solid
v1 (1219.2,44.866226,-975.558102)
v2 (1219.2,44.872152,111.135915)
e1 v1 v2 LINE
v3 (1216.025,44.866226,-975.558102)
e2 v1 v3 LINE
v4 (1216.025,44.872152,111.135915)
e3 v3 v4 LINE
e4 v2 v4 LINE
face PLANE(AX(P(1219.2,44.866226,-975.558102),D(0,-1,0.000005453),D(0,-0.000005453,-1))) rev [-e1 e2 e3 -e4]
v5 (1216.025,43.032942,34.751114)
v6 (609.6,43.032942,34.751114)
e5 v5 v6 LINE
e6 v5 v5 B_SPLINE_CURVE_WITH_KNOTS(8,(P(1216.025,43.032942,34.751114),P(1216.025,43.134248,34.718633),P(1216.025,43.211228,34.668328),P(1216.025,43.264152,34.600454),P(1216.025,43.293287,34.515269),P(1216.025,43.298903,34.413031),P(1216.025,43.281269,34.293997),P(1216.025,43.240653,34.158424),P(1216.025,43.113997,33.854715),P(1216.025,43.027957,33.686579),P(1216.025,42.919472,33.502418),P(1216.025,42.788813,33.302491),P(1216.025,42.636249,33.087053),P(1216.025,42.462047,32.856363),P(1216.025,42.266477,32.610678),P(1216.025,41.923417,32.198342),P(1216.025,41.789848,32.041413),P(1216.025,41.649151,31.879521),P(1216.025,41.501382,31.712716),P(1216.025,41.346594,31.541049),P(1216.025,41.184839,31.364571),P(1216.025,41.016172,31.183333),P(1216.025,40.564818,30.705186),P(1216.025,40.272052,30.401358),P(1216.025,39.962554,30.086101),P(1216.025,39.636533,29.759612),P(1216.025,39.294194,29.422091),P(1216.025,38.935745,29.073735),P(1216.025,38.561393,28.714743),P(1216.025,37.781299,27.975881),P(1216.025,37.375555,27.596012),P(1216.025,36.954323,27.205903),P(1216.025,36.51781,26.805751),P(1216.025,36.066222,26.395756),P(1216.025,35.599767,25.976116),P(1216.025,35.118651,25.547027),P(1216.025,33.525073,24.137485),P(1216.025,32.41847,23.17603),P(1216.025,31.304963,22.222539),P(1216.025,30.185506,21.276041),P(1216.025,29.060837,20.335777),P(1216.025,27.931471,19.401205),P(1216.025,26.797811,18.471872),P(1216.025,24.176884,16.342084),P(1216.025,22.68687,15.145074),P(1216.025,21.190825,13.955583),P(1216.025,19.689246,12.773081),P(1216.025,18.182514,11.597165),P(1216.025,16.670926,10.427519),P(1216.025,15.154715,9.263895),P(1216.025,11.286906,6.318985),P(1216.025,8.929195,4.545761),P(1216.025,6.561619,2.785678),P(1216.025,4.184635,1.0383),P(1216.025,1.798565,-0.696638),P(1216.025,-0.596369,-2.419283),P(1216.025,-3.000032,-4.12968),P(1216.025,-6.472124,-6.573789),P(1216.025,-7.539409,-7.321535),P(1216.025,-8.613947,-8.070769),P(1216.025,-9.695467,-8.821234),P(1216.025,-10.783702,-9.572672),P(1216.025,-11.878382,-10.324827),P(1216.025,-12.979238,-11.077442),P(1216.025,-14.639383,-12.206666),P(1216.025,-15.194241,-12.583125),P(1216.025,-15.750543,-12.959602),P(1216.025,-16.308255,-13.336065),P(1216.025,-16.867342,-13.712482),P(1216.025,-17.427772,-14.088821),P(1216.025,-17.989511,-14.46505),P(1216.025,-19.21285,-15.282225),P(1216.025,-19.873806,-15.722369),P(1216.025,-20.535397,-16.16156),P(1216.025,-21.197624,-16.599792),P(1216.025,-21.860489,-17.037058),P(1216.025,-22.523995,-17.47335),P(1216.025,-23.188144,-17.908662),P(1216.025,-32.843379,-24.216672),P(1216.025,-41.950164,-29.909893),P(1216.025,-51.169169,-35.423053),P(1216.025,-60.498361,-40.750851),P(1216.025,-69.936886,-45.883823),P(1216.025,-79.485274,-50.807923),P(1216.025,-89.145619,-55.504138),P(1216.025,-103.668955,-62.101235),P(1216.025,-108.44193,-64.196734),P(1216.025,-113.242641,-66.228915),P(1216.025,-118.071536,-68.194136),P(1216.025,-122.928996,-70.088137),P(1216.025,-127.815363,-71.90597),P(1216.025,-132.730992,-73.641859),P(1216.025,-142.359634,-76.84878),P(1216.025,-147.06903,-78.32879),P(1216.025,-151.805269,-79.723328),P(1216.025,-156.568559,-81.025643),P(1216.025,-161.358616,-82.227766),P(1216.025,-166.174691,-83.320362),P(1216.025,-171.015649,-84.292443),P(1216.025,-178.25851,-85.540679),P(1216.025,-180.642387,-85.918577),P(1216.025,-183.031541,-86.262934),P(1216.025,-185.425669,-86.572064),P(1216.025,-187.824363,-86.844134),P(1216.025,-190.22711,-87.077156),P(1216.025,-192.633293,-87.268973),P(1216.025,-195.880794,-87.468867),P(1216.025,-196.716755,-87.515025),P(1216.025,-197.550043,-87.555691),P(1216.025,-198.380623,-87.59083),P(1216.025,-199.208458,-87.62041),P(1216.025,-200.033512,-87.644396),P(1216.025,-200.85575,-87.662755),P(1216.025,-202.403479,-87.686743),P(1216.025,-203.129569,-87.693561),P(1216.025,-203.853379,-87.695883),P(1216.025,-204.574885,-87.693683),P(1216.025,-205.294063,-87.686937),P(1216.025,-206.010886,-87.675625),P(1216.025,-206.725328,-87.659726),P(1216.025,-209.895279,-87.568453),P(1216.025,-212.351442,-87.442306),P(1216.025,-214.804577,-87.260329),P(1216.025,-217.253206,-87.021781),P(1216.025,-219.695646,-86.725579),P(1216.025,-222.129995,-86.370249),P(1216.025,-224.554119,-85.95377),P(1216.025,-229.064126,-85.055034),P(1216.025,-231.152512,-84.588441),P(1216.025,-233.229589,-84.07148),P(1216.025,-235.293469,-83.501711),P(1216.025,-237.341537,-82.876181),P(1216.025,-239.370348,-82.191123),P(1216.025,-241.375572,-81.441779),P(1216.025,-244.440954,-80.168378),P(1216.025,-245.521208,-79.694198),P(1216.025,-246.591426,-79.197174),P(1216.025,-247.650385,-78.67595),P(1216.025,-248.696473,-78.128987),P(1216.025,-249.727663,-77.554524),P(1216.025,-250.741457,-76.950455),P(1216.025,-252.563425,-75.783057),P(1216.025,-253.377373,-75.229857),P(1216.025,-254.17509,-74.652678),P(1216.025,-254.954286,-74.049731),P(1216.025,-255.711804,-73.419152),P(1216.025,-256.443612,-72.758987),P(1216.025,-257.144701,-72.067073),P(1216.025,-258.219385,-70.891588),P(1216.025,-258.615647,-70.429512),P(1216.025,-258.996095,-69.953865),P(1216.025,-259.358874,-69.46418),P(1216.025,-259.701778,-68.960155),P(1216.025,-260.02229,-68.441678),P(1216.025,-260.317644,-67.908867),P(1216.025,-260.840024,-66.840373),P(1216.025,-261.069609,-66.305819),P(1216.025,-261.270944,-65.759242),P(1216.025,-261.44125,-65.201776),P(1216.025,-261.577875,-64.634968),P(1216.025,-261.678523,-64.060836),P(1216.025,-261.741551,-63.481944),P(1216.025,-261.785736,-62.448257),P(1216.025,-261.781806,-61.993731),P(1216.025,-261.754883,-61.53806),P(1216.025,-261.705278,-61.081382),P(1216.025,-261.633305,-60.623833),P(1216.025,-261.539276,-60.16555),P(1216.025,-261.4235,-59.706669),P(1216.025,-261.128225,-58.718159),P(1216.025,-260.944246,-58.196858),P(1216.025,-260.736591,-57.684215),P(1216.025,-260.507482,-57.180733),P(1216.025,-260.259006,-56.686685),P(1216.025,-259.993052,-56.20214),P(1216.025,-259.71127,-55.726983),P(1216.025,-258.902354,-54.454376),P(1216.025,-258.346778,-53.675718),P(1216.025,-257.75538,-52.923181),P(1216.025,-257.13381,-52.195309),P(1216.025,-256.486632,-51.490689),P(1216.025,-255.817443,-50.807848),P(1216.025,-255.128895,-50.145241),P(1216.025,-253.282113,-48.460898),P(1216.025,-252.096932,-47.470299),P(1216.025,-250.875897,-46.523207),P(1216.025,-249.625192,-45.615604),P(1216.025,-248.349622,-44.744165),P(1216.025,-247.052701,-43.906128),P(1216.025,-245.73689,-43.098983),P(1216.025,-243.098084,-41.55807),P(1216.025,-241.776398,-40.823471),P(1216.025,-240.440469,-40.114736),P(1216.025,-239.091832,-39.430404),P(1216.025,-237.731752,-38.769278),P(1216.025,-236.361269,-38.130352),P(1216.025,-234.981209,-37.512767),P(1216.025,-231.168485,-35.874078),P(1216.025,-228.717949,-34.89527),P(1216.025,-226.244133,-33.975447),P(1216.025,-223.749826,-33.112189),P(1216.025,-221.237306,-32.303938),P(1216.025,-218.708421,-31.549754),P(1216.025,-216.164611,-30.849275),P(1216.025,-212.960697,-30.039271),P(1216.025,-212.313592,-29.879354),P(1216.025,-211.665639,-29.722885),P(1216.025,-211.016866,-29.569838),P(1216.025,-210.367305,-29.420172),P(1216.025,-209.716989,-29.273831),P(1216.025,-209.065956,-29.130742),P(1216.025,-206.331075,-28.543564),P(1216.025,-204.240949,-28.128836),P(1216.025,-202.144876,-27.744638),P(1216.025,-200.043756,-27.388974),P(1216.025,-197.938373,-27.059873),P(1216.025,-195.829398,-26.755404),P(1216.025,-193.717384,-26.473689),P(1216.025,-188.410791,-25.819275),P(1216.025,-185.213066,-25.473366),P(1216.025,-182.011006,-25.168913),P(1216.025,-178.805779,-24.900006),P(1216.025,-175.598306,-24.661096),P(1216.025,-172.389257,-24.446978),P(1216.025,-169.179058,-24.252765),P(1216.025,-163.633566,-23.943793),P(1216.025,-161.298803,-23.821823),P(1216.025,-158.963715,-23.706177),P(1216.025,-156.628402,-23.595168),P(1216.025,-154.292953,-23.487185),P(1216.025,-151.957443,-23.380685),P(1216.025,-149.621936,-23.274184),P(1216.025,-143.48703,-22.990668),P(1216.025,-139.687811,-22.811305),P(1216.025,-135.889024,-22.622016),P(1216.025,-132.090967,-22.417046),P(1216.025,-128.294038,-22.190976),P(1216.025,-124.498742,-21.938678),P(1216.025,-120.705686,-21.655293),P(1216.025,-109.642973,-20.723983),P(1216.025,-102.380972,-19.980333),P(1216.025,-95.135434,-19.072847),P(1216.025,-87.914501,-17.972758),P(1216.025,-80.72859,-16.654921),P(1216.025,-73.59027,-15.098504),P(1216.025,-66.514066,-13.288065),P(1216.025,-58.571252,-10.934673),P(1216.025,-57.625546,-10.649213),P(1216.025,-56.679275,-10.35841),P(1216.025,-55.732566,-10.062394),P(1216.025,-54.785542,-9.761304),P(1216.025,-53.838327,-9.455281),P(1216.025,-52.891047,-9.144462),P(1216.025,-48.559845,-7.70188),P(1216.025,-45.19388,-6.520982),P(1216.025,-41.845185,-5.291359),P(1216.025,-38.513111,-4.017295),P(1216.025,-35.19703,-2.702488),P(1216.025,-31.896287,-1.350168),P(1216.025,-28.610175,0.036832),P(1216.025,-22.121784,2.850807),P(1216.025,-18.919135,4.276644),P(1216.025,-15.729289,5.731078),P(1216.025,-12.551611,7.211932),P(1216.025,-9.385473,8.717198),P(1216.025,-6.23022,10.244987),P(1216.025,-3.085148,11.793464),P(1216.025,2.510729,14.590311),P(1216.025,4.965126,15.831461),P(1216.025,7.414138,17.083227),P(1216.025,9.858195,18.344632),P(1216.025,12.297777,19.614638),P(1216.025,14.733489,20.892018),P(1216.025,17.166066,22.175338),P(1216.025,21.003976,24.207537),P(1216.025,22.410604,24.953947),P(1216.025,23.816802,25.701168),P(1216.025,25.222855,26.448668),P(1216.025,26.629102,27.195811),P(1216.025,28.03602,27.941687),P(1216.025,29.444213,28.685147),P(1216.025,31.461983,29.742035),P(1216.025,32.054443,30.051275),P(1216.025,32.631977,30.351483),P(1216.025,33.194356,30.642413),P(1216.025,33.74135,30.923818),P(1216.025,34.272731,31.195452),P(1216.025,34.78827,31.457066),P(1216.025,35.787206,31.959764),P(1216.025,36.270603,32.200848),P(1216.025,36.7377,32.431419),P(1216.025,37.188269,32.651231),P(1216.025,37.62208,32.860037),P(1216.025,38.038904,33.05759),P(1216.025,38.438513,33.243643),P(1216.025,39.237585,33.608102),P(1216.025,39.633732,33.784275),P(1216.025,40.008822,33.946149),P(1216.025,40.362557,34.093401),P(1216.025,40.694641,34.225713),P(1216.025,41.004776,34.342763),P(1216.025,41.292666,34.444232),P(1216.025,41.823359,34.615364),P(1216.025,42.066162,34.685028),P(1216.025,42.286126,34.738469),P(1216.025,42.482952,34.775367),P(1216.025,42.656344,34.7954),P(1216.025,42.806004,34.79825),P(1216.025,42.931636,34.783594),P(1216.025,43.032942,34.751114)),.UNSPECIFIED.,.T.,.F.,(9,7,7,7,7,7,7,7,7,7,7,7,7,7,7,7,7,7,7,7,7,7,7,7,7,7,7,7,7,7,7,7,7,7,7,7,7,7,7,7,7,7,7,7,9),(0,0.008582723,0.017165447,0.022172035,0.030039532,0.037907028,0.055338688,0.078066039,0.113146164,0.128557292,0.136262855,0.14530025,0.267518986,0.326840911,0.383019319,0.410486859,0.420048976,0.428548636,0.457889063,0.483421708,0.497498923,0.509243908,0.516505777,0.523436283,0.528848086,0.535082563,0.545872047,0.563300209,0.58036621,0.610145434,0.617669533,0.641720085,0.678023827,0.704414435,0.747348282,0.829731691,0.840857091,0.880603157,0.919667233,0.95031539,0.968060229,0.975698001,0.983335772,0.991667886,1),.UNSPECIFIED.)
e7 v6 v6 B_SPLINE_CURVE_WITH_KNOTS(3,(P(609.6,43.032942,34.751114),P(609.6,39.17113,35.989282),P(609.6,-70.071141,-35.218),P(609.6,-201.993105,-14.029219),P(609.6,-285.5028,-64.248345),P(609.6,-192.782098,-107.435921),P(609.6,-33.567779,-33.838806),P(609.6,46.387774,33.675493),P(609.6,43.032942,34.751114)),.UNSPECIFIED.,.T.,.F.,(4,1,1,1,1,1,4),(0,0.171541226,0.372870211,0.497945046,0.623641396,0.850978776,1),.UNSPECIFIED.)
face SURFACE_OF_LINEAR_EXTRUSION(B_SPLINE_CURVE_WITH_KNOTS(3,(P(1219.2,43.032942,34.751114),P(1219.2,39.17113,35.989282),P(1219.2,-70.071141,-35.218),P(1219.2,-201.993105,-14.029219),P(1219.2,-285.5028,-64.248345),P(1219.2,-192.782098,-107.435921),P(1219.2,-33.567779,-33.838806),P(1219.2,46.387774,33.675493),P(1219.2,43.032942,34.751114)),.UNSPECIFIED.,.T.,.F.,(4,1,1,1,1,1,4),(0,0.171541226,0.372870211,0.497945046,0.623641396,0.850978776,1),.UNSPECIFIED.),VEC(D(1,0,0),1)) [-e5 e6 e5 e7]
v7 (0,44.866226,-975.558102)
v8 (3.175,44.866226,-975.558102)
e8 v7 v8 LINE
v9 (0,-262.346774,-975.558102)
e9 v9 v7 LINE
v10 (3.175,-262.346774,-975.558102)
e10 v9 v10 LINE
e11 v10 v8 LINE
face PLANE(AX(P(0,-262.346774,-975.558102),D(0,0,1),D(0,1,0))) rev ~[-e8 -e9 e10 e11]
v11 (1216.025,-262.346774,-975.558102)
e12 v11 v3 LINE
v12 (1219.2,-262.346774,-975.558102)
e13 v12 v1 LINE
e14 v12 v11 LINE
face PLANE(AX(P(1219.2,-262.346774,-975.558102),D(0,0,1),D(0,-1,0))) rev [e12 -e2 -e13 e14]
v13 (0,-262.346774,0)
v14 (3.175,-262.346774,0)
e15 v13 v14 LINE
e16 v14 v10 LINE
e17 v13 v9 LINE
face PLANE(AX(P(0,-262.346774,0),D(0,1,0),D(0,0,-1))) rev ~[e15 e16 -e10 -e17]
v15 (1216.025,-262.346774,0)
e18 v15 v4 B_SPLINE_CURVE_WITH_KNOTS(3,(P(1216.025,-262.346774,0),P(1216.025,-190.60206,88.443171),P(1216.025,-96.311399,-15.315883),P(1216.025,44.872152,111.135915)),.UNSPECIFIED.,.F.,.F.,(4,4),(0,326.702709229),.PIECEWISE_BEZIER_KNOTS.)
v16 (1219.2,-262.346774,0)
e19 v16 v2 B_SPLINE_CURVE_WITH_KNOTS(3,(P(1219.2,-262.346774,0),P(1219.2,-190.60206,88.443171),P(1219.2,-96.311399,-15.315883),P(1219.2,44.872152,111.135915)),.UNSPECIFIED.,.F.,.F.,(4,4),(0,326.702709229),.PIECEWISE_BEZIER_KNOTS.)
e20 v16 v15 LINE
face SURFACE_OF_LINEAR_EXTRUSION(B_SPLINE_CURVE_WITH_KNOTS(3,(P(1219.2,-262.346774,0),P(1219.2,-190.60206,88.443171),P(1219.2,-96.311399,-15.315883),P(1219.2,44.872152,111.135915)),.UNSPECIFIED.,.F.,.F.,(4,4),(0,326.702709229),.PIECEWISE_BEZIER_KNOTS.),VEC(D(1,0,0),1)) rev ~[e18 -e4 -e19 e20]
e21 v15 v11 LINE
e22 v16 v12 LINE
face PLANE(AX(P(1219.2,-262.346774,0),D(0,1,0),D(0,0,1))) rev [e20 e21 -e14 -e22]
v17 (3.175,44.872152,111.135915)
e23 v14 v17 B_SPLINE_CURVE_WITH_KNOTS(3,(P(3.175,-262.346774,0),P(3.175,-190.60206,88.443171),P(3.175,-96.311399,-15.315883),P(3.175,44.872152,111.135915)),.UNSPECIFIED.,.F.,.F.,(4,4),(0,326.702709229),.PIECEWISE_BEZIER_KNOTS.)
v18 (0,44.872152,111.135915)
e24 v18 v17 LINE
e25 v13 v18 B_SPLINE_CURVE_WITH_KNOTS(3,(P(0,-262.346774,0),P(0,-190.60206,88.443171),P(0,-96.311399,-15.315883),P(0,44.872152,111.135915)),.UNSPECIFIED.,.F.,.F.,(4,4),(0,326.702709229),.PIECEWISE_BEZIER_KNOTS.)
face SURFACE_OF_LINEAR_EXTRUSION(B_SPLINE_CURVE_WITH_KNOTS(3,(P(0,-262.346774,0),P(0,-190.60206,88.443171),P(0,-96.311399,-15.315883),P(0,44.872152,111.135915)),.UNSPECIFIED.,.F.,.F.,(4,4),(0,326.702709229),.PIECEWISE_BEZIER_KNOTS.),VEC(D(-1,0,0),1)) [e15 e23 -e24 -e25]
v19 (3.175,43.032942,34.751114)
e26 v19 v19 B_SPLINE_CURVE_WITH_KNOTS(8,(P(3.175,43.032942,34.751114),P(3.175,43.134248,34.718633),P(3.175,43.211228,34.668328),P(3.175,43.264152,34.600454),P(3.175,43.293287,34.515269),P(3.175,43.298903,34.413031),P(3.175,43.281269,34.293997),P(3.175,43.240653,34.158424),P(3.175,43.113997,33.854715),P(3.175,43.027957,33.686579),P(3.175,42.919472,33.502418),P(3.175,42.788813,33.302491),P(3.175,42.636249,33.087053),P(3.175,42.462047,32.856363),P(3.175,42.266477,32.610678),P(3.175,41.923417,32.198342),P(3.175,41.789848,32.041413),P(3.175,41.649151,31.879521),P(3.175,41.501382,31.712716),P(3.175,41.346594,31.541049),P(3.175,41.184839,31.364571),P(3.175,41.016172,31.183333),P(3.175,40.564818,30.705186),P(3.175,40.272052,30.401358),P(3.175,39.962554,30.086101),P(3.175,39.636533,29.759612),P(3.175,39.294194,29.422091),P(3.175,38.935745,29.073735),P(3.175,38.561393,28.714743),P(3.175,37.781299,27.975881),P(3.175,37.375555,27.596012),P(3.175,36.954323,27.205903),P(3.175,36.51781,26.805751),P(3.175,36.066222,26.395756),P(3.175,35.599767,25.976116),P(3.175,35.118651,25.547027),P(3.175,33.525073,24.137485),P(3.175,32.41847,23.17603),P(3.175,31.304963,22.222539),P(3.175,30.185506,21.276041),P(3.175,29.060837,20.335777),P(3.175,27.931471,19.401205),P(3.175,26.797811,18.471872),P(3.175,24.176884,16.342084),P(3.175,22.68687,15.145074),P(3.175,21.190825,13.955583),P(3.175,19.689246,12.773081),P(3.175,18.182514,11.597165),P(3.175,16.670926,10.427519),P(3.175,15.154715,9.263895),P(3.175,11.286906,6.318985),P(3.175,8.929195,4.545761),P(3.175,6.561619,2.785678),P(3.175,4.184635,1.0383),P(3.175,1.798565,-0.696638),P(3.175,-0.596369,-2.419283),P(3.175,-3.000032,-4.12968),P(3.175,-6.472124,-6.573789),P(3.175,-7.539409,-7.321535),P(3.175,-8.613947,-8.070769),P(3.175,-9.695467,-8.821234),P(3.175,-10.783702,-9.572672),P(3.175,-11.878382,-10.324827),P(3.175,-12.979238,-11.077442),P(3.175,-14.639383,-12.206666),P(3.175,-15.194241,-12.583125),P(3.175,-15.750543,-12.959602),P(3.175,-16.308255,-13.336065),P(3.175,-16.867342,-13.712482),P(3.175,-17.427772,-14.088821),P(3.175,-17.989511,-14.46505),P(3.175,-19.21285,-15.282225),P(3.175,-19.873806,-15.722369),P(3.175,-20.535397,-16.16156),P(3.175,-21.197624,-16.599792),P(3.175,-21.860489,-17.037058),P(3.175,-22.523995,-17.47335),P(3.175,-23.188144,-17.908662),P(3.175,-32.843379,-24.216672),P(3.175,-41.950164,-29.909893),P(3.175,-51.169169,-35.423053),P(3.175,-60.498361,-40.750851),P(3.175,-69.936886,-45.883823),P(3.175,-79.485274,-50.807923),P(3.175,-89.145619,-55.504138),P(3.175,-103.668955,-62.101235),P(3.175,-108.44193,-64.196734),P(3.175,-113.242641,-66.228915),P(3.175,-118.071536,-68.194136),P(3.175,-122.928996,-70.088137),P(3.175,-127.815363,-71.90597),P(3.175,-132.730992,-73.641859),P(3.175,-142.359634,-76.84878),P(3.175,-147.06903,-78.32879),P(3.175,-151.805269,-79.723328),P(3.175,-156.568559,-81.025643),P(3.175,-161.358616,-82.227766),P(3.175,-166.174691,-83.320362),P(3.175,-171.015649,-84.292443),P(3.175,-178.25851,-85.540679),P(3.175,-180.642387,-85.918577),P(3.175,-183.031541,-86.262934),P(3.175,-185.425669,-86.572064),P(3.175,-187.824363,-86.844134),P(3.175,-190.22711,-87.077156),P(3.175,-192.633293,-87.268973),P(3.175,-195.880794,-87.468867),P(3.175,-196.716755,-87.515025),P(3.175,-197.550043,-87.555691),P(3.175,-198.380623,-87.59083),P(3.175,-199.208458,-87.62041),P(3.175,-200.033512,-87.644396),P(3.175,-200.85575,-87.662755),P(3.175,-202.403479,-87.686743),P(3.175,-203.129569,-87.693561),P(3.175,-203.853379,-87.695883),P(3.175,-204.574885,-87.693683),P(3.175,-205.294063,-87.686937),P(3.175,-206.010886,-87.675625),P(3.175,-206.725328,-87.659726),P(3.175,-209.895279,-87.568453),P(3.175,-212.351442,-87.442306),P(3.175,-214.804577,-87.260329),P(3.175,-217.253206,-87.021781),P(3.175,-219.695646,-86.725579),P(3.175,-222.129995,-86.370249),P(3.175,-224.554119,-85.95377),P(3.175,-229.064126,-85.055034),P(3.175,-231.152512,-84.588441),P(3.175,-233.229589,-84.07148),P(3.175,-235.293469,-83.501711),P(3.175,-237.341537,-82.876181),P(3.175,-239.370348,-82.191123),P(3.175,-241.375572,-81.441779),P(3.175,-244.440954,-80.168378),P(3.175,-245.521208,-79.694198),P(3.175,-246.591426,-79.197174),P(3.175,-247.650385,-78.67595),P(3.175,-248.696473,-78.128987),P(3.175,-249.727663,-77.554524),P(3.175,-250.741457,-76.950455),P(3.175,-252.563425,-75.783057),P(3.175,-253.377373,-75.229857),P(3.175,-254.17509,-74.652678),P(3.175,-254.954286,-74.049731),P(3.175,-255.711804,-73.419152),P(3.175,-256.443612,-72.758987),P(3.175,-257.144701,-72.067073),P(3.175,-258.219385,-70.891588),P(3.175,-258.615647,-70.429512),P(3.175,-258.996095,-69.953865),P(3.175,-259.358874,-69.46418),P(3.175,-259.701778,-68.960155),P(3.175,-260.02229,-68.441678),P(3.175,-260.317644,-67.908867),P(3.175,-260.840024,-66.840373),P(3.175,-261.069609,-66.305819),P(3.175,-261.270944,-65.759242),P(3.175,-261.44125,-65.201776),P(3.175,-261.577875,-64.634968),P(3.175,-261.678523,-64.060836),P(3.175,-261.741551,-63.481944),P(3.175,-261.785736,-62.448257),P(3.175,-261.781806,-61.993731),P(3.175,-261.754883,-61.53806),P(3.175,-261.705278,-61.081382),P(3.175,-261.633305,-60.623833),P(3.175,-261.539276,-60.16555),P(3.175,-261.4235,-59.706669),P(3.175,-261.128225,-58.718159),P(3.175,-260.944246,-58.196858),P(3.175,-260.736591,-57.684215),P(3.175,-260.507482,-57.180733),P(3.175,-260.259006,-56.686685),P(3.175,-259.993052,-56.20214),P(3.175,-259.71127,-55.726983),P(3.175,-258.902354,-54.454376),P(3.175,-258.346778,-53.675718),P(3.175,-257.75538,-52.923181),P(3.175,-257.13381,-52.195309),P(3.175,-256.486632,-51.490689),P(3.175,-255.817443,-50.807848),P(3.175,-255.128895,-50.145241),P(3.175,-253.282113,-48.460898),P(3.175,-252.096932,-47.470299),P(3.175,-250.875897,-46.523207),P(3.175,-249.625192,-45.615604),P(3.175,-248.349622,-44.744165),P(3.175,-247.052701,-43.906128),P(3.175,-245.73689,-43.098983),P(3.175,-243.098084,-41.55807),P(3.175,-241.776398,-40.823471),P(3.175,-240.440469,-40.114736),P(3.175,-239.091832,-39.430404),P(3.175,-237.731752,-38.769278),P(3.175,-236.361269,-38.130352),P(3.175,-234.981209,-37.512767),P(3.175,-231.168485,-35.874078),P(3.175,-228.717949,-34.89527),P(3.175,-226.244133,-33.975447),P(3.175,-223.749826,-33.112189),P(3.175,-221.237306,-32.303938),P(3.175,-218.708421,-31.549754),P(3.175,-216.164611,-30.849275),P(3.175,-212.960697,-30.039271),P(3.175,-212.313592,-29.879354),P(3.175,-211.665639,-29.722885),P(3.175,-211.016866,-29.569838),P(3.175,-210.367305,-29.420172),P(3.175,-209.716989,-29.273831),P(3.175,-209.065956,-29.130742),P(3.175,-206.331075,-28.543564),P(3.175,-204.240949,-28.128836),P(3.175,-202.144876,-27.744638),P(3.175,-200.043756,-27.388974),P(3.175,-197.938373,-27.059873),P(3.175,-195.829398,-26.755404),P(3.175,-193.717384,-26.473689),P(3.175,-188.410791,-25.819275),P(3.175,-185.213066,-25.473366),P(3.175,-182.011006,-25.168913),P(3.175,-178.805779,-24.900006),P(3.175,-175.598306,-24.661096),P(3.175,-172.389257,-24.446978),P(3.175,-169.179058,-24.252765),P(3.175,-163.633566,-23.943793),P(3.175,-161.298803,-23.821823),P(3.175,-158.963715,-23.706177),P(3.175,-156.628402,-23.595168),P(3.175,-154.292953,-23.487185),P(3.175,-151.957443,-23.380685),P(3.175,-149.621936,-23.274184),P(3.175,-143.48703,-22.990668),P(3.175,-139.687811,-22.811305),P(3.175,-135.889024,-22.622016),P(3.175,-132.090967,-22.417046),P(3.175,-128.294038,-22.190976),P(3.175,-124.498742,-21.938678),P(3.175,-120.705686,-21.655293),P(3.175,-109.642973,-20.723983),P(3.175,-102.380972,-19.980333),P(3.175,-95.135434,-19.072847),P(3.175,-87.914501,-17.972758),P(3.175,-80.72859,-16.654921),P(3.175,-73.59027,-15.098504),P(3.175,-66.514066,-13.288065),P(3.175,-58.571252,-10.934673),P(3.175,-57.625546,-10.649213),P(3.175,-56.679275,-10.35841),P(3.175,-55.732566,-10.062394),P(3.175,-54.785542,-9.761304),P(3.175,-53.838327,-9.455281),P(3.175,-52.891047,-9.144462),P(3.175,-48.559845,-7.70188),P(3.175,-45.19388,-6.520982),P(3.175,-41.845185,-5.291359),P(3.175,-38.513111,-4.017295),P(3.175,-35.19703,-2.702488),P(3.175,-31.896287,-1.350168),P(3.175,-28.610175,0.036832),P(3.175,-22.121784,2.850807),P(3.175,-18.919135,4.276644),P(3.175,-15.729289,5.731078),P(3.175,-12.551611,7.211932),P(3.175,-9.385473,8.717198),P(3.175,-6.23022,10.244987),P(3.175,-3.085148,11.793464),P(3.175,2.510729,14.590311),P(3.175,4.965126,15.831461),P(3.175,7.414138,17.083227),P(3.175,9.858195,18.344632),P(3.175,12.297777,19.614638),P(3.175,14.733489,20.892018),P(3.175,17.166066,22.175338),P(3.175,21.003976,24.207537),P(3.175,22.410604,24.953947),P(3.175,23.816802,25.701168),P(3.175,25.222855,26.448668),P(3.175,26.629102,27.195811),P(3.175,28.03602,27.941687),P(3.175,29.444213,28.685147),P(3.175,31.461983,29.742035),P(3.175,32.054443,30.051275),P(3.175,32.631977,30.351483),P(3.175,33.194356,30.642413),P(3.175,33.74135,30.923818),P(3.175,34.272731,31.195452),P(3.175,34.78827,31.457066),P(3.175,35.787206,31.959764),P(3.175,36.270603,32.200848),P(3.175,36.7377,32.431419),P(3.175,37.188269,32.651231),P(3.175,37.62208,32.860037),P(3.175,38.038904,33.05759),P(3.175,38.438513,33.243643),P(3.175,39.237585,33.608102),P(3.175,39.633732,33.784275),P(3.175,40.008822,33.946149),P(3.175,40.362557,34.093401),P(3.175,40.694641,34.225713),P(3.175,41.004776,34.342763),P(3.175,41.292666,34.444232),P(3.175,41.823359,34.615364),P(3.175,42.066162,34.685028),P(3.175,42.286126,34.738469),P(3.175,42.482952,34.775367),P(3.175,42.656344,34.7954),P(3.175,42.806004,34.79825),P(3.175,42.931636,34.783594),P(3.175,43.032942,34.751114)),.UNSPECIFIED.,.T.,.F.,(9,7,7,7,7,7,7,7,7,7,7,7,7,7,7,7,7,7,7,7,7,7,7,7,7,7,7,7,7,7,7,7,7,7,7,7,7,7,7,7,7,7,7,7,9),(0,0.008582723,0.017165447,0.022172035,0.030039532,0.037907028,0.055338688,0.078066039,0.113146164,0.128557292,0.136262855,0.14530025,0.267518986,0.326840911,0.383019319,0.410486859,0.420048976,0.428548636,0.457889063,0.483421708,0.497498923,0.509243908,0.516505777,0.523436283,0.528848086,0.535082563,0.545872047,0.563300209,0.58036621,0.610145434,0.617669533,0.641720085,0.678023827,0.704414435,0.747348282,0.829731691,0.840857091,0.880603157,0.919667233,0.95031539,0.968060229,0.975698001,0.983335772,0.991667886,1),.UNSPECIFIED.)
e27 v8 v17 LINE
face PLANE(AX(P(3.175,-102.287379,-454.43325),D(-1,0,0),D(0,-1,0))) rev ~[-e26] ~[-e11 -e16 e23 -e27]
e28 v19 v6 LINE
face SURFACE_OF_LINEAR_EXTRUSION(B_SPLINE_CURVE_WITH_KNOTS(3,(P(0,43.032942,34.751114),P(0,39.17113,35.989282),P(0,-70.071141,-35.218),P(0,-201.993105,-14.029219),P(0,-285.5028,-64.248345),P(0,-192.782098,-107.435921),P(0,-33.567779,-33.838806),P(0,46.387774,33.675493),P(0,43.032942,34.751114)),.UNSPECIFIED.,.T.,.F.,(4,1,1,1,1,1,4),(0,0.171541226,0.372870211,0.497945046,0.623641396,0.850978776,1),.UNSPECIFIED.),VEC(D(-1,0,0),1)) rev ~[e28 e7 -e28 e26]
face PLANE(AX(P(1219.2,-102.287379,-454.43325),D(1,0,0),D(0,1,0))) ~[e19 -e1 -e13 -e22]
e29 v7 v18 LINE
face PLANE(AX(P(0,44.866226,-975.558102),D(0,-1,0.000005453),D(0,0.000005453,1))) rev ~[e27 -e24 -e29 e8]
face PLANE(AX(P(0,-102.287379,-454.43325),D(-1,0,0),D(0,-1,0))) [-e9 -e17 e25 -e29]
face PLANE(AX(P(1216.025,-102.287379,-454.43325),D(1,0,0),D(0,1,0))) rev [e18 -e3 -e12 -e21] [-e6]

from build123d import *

# Parameters (mm, degrees)
F2_DEPTH = 609.6
F3_DEPTH = 3.175


with BuildPart() as f2:
    # F0 (on Right) → F2 (new body)
    with BuildSketch(Plane.YZ):
        with BuildLine():
            add(Edge.make_bspline(
                [(43.0329421979, 34.7511139105), (39.171130367, 35.9892817227), (-70.0711411927, -35.218000263), (-201.9931052329, -14.029218889), (-285.5028000267, -64.2483450261), (-192.7820983455, -107.4359210852), (-33.5677788683, -33.8388056306), (46.3877738048, 33.675493271), (43.0329421979, 34.7511139105)],
                knots=[0, 0, 0, 0, 0.1715412261, 0.372870211, 0.4979450462, 0.6236413962, 0.8509787757, 1, 1, 1, 1], degree=3))
        make_face()
    extrude(amount=F2_DEPTH)

    # F1 (on Right) → F3 (join)
    with BuildSketch(Plane.YZ):
        with BuildLine():
            add(Edge.make_bspline(
                [(-262.3467743397, 0), (-190.6020598596, 88.4431707577), (-96.3113990174, -15.3158832345), (44.872151887, 111.1359149218)],
                knots=[0, 0, 0, 0, 326.7027092287, 326.7027092287, 326.7027092287, 326.7027092287], degree=3))
            Line((-262.3467743397, 0), (-262.3467743397, -61.1581021309))
            Line((-262.3467743397, -61.1581021309), (-262.3467743397, -975.5581021309))
            Line((-262.3467743397, -975.5581021309), (44.8662256603, -975.5581021309))
            Line((44.8662256603, -975.5581021309), (44.872151887, 111.1359149218))
        make_face()
    extrude(amount=F3_DEPTH)

    # F4: F2 across face


with BuildPart() as f2_1:
    add(f2.part)
    add(f2.part.mirror(Plane(origin=(609.6, -141.7259631872, -44.0033504937), x_dir=(0, 1, 0), z_dir=(1, 0, 0))))


solid = f2_1.part
